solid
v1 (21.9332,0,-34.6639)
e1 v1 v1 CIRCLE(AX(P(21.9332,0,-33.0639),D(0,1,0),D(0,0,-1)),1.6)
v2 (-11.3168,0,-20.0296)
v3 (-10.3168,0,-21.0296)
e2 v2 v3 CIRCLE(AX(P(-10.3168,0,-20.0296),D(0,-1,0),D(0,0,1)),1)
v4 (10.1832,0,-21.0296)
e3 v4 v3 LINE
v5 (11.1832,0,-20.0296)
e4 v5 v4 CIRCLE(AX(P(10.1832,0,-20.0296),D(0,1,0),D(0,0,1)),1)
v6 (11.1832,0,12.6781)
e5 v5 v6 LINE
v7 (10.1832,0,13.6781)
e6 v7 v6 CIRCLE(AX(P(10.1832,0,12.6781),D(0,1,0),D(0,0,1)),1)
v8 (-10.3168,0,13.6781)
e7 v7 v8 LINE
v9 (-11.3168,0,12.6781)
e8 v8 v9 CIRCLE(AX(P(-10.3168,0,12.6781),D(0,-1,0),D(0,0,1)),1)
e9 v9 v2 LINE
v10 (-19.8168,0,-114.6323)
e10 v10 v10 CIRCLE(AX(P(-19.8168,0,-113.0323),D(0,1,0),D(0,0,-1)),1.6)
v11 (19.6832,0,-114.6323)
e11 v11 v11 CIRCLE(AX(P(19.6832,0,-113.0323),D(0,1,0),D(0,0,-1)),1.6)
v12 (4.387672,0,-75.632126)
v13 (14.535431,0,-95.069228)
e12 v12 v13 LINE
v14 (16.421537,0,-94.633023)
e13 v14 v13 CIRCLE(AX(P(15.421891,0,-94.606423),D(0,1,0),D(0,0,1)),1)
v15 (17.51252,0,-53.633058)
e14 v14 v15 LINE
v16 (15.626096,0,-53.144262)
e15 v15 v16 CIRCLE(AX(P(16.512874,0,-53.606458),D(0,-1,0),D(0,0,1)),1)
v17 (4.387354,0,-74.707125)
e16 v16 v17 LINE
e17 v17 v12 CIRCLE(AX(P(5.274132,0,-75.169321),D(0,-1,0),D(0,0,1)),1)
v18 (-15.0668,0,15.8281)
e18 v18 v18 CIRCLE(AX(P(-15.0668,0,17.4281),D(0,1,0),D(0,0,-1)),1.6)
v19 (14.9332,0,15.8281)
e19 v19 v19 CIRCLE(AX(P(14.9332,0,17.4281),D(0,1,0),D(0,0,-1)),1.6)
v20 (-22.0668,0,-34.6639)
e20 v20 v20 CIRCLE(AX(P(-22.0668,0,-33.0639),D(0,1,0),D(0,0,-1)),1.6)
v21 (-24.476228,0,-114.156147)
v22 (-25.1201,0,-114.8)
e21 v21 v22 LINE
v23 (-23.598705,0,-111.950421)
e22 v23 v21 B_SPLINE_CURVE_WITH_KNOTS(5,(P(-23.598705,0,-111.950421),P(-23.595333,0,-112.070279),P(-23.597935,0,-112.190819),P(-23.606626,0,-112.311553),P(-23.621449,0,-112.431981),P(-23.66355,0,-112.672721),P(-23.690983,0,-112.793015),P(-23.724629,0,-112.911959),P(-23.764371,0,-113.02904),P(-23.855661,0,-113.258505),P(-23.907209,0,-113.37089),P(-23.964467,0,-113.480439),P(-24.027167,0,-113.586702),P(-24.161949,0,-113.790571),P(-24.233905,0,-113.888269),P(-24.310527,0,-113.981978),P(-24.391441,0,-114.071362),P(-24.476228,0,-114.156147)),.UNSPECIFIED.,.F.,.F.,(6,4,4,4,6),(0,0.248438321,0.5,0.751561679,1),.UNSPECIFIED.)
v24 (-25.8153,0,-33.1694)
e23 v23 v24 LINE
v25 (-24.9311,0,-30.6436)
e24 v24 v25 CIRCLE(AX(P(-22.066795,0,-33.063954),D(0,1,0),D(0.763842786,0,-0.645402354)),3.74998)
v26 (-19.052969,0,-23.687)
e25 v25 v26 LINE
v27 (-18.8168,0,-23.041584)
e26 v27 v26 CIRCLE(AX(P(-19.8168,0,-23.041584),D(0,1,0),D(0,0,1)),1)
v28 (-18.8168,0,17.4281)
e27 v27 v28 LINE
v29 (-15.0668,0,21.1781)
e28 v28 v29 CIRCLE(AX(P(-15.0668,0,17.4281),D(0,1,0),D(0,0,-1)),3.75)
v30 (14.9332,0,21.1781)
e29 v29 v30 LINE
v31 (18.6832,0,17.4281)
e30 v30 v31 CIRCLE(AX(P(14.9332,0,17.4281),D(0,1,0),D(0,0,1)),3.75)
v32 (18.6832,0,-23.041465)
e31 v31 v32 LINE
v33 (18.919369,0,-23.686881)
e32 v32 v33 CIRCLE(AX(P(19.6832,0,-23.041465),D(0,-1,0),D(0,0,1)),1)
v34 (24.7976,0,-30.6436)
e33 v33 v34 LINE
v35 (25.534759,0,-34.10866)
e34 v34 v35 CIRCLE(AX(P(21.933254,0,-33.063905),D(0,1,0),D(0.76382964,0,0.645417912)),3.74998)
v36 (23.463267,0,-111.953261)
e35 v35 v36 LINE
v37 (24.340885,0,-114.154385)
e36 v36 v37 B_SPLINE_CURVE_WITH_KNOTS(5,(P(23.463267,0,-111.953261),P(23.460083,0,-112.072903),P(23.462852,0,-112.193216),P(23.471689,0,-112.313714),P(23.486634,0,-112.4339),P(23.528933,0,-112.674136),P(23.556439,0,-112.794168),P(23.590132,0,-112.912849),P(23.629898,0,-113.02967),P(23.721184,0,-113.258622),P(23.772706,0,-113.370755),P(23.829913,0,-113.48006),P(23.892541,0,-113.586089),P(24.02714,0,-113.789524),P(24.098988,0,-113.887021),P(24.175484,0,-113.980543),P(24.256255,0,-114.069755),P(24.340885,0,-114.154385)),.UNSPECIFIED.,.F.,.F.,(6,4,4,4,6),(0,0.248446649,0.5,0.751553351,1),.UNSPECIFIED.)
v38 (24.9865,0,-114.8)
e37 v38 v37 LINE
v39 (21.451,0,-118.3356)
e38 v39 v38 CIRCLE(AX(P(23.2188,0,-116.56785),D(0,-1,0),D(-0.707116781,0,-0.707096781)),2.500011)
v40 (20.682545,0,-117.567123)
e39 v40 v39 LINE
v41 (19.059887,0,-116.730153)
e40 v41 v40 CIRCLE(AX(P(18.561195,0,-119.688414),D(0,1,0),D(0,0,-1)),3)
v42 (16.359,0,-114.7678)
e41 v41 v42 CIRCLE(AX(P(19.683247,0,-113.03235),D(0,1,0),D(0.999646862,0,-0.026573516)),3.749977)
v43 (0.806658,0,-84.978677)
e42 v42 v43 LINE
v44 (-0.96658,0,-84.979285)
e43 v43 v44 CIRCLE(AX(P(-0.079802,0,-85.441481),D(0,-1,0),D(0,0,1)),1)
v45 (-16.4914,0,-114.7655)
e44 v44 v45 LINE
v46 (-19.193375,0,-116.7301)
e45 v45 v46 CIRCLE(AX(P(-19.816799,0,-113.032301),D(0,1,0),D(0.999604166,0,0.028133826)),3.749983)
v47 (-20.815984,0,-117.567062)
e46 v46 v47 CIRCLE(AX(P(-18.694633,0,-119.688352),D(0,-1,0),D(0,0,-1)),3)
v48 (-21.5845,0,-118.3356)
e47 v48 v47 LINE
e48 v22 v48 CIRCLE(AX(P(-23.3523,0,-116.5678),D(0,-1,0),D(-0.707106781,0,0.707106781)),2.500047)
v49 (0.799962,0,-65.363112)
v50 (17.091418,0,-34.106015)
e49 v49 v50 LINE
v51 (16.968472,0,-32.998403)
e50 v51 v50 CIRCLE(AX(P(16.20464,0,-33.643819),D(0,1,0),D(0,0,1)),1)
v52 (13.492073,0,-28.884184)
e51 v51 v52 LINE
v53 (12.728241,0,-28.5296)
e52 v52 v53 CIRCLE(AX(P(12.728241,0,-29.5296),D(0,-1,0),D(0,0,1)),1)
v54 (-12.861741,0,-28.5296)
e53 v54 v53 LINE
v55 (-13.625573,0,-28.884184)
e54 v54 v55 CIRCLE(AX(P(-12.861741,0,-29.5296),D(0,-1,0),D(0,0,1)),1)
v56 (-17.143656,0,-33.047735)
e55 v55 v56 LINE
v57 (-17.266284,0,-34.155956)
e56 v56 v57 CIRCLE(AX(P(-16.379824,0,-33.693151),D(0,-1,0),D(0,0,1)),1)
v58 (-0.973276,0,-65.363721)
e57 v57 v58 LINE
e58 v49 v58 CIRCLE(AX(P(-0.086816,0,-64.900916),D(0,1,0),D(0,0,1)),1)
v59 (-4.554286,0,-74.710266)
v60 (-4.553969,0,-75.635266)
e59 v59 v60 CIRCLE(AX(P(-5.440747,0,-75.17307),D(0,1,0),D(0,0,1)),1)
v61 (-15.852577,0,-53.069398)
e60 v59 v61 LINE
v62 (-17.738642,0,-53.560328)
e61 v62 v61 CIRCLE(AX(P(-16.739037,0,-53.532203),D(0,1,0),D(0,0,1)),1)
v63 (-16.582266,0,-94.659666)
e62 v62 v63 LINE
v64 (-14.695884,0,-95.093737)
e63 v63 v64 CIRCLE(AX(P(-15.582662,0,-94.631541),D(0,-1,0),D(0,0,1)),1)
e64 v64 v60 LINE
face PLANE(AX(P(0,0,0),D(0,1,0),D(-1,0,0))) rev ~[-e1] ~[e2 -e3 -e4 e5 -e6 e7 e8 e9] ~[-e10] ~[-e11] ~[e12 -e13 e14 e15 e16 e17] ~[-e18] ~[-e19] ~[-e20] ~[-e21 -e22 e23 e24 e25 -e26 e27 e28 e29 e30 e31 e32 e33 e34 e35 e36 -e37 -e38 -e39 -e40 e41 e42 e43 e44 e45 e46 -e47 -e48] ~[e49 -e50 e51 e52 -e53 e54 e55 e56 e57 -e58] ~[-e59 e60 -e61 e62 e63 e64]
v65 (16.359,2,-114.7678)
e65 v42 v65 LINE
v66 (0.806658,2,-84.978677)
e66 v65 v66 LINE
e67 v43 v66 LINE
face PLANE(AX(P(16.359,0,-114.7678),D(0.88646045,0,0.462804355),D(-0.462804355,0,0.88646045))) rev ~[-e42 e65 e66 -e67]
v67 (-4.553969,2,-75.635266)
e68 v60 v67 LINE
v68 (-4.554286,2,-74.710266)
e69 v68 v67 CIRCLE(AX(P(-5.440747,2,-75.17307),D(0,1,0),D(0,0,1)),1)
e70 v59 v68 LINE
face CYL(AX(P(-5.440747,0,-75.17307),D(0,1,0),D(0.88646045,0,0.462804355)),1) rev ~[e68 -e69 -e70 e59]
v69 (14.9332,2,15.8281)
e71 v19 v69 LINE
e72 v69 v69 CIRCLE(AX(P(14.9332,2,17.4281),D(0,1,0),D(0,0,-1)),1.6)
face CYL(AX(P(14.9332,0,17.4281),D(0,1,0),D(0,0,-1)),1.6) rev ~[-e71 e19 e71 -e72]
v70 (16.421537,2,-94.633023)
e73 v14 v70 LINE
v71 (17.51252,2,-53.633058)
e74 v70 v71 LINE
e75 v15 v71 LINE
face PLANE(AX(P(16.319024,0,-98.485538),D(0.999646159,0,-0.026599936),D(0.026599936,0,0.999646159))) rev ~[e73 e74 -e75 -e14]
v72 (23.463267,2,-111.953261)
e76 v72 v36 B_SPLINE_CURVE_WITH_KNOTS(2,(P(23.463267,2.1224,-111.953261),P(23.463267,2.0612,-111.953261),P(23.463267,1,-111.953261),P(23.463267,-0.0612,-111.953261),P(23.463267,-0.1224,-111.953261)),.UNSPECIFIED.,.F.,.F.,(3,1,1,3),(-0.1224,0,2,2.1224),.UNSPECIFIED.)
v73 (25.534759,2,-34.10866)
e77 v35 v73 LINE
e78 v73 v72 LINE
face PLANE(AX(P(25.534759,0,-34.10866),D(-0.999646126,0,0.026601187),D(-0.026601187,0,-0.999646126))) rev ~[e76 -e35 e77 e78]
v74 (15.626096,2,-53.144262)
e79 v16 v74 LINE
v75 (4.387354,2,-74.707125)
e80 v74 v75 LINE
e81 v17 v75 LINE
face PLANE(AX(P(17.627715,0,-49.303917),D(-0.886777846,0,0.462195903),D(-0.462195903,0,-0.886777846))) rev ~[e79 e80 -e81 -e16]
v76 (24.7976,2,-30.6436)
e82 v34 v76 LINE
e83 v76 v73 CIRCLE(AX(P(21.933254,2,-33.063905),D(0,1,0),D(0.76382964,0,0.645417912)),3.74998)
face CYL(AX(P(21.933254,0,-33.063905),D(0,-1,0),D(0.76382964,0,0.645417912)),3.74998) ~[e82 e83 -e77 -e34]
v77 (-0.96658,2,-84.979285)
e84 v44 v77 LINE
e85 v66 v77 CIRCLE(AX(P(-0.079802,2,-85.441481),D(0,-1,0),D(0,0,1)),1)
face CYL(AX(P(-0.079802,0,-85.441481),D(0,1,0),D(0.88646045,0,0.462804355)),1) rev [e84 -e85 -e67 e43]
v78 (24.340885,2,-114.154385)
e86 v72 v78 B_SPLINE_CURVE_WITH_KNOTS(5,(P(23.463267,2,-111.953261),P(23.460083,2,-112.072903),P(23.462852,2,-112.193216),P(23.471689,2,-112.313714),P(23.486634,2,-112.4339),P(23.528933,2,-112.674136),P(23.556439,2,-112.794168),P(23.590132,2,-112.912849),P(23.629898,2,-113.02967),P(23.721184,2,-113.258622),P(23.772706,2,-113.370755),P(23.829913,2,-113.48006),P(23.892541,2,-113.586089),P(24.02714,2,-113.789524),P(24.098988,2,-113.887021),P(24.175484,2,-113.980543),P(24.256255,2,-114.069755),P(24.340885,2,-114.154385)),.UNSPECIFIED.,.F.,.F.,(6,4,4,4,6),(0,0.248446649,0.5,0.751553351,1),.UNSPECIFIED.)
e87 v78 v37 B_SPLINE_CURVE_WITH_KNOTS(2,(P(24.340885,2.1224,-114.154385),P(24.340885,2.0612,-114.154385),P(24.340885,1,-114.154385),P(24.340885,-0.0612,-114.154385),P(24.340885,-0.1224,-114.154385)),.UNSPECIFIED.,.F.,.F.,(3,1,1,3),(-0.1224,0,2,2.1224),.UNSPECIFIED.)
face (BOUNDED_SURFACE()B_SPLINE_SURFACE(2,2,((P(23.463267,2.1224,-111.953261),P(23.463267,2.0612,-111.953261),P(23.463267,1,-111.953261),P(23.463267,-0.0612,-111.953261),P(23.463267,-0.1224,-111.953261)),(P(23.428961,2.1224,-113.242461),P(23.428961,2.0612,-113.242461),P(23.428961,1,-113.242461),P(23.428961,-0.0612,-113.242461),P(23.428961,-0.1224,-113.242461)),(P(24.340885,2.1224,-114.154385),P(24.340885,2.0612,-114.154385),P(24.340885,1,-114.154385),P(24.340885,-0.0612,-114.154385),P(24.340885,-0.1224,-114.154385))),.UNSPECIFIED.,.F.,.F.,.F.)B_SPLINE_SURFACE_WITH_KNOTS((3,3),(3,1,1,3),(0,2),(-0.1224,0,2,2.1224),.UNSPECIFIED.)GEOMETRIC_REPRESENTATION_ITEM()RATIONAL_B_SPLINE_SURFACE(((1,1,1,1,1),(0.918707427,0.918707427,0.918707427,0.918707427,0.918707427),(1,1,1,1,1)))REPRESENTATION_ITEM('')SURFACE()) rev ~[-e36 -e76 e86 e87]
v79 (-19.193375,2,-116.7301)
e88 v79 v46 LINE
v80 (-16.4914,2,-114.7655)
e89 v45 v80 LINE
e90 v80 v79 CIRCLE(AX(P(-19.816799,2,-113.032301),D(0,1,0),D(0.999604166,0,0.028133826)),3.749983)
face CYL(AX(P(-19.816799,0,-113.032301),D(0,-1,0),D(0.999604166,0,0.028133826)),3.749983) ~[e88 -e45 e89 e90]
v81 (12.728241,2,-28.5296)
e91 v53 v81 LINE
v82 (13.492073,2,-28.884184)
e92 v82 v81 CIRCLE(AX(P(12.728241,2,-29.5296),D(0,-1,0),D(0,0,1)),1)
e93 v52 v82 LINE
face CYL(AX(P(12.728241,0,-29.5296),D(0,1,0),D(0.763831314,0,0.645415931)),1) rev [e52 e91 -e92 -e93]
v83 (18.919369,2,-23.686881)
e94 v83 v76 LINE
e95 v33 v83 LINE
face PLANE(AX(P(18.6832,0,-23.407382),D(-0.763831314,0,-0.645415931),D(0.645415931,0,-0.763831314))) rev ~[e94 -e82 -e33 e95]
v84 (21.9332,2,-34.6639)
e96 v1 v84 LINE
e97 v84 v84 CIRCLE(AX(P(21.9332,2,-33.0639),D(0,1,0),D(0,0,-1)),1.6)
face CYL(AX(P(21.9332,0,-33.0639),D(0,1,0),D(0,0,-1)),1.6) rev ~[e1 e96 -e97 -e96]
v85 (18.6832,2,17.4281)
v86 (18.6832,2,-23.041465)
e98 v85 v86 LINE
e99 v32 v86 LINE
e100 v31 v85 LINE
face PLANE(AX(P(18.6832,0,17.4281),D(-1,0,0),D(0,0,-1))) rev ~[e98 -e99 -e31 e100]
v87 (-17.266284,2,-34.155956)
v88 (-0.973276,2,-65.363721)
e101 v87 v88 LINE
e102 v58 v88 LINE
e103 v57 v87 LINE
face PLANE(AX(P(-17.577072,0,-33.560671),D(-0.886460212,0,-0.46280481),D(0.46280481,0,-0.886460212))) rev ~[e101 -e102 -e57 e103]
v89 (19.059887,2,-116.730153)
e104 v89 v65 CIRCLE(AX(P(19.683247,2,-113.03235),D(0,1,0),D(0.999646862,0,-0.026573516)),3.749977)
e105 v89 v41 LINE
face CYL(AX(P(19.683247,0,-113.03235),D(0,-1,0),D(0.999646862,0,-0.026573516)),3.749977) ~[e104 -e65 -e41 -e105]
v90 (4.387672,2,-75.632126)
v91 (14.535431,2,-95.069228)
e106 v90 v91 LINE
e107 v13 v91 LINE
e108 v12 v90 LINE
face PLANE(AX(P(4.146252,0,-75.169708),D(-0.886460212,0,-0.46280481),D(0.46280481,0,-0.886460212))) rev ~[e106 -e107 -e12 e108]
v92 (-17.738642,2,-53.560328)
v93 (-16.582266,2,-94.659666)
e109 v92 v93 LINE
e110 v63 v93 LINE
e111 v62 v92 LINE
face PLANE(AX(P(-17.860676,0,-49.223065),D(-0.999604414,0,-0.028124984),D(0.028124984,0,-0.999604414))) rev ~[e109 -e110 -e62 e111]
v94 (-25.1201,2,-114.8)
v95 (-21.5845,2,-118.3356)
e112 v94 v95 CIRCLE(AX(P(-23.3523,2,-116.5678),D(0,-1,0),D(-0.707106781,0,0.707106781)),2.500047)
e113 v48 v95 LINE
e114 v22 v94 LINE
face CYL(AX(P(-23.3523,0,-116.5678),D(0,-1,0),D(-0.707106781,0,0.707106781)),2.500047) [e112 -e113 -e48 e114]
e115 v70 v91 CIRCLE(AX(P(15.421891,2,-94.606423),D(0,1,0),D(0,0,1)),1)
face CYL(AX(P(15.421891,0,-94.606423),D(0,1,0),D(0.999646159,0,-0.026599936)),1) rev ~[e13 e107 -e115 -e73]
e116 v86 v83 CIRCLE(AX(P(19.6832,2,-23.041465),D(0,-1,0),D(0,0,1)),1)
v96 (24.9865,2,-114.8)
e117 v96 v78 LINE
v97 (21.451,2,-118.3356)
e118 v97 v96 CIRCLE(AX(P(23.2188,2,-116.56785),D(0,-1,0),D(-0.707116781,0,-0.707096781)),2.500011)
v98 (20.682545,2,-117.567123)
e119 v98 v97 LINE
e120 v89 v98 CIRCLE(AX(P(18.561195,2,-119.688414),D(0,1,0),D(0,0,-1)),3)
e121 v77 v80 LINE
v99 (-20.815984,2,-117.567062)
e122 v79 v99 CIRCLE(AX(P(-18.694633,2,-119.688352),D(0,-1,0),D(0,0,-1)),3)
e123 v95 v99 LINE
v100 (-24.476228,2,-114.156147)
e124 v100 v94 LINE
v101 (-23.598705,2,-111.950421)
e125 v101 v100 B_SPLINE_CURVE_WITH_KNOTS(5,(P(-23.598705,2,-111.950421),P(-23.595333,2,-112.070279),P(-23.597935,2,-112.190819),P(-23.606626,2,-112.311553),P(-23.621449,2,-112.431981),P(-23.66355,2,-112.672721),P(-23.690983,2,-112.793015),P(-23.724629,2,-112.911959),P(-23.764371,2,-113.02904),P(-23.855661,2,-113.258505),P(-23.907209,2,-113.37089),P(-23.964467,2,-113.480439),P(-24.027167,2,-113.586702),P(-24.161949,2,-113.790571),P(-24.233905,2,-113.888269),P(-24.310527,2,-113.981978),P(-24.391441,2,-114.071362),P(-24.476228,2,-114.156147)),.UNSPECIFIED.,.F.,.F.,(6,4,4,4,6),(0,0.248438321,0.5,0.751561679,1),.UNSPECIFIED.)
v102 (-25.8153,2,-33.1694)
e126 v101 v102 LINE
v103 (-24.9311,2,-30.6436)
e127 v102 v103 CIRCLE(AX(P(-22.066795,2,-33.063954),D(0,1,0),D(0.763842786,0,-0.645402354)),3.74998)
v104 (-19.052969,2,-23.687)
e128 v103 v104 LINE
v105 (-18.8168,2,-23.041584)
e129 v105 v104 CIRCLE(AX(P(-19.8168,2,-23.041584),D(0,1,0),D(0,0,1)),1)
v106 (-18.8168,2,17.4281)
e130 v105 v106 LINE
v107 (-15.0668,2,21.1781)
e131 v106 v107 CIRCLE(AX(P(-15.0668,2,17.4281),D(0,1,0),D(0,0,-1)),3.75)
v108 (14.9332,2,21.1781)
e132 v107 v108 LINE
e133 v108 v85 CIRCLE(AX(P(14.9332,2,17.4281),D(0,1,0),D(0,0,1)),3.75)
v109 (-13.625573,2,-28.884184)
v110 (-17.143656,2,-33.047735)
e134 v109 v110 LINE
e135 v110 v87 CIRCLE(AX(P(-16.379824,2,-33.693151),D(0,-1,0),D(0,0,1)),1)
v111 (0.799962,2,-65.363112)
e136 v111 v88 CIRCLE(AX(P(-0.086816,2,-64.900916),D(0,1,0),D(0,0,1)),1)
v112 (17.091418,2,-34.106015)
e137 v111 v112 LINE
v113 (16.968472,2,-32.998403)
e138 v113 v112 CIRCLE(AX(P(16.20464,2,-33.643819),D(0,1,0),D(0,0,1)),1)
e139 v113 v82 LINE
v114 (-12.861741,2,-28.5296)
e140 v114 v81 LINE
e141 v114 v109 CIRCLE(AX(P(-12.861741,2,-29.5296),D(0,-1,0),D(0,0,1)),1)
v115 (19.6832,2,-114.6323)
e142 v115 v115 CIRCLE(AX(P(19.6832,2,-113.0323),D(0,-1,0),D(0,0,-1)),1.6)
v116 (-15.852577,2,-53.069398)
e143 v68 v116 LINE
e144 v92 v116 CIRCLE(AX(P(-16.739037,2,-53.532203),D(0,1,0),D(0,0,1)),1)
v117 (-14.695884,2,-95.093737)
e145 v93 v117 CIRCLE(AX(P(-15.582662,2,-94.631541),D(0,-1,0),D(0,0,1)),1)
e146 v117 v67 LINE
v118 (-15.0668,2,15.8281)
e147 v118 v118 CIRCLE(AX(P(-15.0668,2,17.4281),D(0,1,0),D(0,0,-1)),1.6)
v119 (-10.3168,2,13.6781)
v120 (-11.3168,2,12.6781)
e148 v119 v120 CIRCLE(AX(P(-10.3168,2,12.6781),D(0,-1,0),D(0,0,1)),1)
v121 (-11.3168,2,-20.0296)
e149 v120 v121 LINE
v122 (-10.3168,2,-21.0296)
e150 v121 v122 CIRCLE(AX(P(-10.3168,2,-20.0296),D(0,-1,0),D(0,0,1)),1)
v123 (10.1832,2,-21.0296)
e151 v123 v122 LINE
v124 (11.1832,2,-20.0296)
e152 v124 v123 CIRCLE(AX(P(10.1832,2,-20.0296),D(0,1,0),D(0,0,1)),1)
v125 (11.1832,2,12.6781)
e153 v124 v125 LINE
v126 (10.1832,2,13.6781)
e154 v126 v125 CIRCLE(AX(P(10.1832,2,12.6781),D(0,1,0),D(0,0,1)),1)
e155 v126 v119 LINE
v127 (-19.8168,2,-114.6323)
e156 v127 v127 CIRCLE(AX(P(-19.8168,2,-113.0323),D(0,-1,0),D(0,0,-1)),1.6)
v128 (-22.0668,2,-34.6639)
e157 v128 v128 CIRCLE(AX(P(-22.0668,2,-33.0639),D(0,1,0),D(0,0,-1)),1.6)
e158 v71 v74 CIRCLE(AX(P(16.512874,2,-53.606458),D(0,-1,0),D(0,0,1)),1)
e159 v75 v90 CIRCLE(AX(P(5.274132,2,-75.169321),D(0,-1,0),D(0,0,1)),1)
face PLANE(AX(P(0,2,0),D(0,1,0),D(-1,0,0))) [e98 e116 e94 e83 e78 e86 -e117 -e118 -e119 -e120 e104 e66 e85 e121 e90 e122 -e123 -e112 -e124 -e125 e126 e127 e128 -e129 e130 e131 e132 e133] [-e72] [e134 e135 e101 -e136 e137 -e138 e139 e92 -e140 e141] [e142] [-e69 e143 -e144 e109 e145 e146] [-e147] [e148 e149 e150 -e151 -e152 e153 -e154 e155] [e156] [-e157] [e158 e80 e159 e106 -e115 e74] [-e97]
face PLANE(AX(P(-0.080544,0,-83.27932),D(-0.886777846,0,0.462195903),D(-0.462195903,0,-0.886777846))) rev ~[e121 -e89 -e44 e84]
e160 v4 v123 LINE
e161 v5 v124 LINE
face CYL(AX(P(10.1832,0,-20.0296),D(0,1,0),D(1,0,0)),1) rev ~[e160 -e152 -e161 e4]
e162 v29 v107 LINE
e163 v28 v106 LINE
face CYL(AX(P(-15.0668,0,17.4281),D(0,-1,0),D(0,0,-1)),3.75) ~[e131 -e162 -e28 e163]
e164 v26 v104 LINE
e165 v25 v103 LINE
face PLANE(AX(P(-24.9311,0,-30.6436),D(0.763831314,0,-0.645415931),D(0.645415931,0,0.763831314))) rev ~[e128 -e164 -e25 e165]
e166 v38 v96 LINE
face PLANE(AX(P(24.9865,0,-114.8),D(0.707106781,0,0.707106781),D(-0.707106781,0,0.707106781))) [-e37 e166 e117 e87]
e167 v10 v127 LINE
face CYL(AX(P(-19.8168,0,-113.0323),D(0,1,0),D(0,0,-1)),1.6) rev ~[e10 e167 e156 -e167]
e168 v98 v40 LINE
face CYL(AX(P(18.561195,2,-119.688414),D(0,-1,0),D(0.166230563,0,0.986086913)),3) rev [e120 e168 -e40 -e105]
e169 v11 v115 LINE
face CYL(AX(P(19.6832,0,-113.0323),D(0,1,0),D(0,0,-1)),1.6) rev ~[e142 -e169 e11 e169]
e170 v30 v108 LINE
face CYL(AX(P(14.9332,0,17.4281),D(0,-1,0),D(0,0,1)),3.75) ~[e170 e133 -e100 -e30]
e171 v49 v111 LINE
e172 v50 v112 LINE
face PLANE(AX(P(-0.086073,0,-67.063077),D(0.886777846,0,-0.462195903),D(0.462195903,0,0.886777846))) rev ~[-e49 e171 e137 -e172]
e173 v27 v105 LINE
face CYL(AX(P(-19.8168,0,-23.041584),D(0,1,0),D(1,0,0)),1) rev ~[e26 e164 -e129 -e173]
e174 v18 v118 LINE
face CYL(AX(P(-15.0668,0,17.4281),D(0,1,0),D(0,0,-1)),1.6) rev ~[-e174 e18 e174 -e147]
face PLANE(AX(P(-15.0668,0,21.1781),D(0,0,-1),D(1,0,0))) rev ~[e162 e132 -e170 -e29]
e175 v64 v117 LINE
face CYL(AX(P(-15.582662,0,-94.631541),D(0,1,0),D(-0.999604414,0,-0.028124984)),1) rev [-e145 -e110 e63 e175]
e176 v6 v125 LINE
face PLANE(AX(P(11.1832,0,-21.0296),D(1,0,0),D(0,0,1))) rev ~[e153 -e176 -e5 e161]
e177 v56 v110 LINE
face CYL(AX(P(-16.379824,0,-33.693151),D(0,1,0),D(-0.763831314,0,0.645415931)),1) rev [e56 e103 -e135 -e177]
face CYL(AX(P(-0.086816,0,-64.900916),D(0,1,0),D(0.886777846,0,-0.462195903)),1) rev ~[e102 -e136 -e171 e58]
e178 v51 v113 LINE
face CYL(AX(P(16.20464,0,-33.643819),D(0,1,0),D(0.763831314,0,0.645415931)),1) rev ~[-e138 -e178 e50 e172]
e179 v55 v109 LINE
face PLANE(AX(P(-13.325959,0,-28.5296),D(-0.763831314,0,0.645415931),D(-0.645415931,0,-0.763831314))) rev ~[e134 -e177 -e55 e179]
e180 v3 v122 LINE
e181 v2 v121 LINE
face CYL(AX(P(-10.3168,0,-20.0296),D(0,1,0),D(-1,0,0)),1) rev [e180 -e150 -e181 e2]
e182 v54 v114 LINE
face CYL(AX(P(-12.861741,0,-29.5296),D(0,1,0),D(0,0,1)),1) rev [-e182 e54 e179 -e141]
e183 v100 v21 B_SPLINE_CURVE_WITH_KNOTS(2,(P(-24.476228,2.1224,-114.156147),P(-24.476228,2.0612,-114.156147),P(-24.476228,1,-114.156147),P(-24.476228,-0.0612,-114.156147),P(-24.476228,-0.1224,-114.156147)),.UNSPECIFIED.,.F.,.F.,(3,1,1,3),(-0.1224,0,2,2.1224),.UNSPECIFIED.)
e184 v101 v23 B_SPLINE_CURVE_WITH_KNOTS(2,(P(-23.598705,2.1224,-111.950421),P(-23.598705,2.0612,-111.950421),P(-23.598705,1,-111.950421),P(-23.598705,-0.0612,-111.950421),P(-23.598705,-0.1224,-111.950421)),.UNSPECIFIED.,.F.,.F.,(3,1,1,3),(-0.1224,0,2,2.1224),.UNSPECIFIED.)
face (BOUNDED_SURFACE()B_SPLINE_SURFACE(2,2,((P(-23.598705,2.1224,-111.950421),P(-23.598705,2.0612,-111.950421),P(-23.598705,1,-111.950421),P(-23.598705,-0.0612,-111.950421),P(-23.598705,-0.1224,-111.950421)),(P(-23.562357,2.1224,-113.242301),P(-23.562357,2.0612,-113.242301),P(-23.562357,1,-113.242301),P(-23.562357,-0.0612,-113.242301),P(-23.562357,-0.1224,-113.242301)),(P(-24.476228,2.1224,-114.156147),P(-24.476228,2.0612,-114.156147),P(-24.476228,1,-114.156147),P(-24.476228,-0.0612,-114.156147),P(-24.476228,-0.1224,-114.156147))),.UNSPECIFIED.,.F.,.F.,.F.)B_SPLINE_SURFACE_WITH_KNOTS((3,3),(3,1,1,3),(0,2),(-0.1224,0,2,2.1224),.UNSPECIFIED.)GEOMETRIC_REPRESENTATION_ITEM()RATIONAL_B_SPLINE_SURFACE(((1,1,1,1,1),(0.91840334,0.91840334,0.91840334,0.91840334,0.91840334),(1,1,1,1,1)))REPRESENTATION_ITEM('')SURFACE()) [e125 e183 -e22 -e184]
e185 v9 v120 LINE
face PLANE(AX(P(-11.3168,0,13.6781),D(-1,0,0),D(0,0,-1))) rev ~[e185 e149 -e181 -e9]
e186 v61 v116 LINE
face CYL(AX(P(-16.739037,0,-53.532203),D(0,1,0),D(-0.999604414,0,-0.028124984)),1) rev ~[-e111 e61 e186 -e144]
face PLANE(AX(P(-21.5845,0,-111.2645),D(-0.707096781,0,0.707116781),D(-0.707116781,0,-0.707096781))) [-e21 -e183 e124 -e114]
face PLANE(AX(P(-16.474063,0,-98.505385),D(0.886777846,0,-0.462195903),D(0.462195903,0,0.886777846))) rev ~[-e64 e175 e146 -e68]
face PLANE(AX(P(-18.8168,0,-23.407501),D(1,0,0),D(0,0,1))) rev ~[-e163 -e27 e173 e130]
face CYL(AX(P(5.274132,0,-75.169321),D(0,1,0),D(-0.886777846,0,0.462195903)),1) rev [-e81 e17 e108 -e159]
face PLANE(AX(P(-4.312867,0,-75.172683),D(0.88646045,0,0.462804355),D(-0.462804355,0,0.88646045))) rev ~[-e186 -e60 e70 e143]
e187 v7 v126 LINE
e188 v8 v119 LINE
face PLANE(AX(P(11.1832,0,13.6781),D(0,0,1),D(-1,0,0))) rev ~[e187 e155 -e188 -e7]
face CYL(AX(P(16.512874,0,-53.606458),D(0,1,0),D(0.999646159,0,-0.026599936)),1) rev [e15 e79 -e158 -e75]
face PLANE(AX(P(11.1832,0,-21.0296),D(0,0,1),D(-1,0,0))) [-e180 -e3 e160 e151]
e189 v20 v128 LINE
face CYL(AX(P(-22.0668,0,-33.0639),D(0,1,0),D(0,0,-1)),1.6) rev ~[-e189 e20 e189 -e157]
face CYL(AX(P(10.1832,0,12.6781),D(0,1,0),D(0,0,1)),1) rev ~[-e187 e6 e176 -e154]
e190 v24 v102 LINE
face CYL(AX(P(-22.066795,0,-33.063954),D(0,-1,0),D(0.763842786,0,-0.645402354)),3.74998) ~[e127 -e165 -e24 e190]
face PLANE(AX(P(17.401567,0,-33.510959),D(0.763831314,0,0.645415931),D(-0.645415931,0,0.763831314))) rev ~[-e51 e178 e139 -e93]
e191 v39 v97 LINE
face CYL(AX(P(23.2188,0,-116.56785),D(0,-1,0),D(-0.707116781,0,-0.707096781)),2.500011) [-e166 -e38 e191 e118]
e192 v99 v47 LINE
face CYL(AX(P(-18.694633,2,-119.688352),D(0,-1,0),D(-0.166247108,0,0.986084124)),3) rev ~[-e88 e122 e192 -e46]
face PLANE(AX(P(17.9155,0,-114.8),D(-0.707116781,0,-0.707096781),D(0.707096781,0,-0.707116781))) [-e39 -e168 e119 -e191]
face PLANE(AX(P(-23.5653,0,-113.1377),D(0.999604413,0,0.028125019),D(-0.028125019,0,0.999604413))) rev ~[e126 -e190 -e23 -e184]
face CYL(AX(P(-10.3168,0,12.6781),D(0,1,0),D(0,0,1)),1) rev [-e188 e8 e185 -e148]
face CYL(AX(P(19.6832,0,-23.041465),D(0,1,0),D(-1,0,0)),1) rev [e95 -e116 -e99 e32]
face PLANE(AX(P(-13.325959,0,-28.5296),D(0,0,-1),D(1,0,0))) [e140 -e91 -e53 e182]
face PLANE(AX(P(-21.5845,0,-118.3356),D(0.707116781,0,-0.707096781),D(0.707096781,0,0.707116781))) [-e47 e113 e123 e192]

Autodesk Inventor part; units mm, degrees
ref_plane "YZ Plane" through (0, 0, 0) normal (1, 0, 0) x (0, 1, 0)
ref_plane "XZ Plane" through (0, 0, 0) normal (0, 1, 0) x (-1, 0, 0)
ref_plane "XY Plane" through (0, 0, 0) normal (0, 0, 1) x (1, 0, 0)
sketch "Szkic1" plane through (0, 0, 0) normal (0, 1, 0) x (-1, 0, 0)
  line L0 (-14.9332, 17.4281) -> (15.0668, 17.4281) construction
  line L1 (-14.9332, 13.6781) -> (15.0668, 13.6781)
  line L2 (15.0668, 21.1781) -> (-14.9332, 21.1781)
  arc A0 (-14.9332, 21.1781) -> (-14.9332, 13.6781) centre (-14.9332, 17.4281) ccw
  arc A1 (15.0668, 13.6781) -> (15.0668, 21.1781) centre (15.0668, 17.4281) ccw
  line L3 (0.0668, 17.4281) -> (0.0668, -37.9617) construction
  line L4 (15.0668, 17.4281) -> (15.0668, -55.6314) construction
  line L5 (-14.9332, 17.4281) -> (-14.9332, -55.6314) construction
  line L6 (22.0668, -33.0639) -> (15.0668, -24.7796) construction
  line L7 (24.9311, -30.6436) -> (17.9311, -22.3593)
  line L8 (12.2024, -27.1999) -> (19.2024, -35.4842)
  arc A2 (19.2024, -35.4842) -> (24.9311, -30.6436) centre (22.0668, -33.0639) ccw
  arc A3 (17.9311, -22.3593) -> (12.2024, -27.1999) centre (15.0668, -24.7796) ccw
  line L9 (-21.9332, -33.0639) -> (-14.9332, -24.7796) construction
  line L10 (-19.0689, -35.4842) -> (-12.0689, -27.1999)
  line L11 (-17.7976, -22.3593) -> (-24.7976, -30.6436)
  arc A4 (-24.7976, -30.6436) -> (-19.0689, -35.4842) centre (-21.9332, -33.0639) ccw
  arc A5 (-12.0689, -27.1999) -> (-17.7976, -22.3593) centre (-14.9332, -24.7796) ccw
  line L12 (15.0668, 17.4281) -> (15.0668, -24.7796) construction
  line L13 (11.3168, 17.4281) -> (11.3168, -24.7796)
  line L14 (18.8168, -24.7796) -> (18.8168, 17.4281)
  arc A6 (18.8168, 17.4281) -> (11.3168, 17.4281) centre (15.0668, 17.4281) ccw
  arc A7 (11.3168, -24.7796) -> (18.8168, -24.7796) centre (15.0668, -24.7796) ccw
  line L15 (-14.9332, 17.4281) -> (-14.9332, -24.7796) construction
  line L16 (-18.6832, 17.4281) -> (-18.6832, -24.7796)
  line L17 (-11.1832, -24.7796) -> (-11.1832, 17.4281)
  arc A8 (-11.1832, 17.4281) -> (-18.6832, 17.4281) centre (-14.9332, 17.4281) ccw
  arc A9 (-18.6832, -24.7796) -> (-11.1832, -24.7796) centre (-14.9332, -24.7796) ccw
  line L18 (-14.9332, -24.7796) -> (15.0668, -24.7796) construction
  line L19 (-14.9332, -21.0296) -> (15.0668, -21.0296)
  line L20 (15.0668, -28.5296) -> (-14.9332, -28.5296)
  arc A10 (-14.9332, -21.0296) -> (-14.9332, -28.5296) centre (-14.9332, -24.7796) ccw
  arc A11 (15.0668, -28.5296) -> (15.0668, -21.0296) centre (15.0668, -24.7796) ccw
  line L21 (22.0668, -33.0639) -> (19.8168, -113.0323) construction
  line L22 (18.3183, -32.9584) -> (16.0683, -112.9268)
  line L23 (23.5653, -113.1377) -> (25.8153, -33.1694)
  arc A12 (25.8153, -33.1694) -> (18.3183, -32.9584) centre (22.0668, -33.0639) ccw
  arc A13 (16.0683, -112.9268) -> (23.5653, -113.1377) centre (19.8168, -113.0323) ccw
  line L24 (-21.8084, -33.1694) -> (-19.6832, -113.0323) construction
  line L25 (-25.5571, -33.2691) -> (-23.4319, -113.132)
  line L26 (-15.9346, -112.9325) -> (-18.0597, -33.0696)
  arc A14 (-18.0597, -33.0696) -> (-25.5571, -33.2691) centre (-21.8084, -33.1694) ccw
  arc A15 (-23.4319, -113.132) -> (-15.9346, -112.9325) centre (-19.6832, -113.0323) ccw
  line L27 (22.0668, -33.0639) -> (-19.6832, -113.0323) construction
  line L28 (18.7425, -31.3284) -> (-23.0075, -111.2967)
  line L29 (-16.359, -114.7678) -> (25.391, -34.7994)
  arc A16 (25.391, -34.7994) -> (18.7425, -31.3284) centre (22.0668, -33.0639) ccw
  arc A17 (-23.0075, -111.2967) -> (-16.359, -114.7678) centre (-19.6832, -113.0323) ccw
  line L30 (-21.8084, -33.1694) -> (19.8168, -113.0323) construction
  line L31 (-25.1338, -34.9026) -> (16.4914, -114.7655)
  line L32 (23.1422, -111.299) -> (-18.483, -31.4361)
  arc A18 (-18.483, -31.4361) -> (-25.1338, -34.9026) centre (-21.8084, -33.1694) ccw
  arc A19 (16.4914, -114.7655) -> (23.1422, -111.299) centre (19.8168, -113.0323) ccw
  point P0 (0, 0)
  point P1 (18.5668, -28.9217)
  point P2 (-18.4332, -28.9217)
  point P3 (15.0668, -3.6757)
  point P4 (-14.9332, -3.6757)
  point P5 (0.0668, -24.7796)
  point P6 (20.9418, -73.0481)
  point P7 (-20.7458, -73.1008)
  point P8 (1.1918, -73.0481)
  point P9 (-0.9958, -73.1008)
  point P10 (-18.6832, -23.4074)
  point P11 (-25.5347, -34.1087)
  point P12 (0.0805, -83.2794)
  point P13 (24.9311, -30.6436)
  point P14 (18.8168, -23.4074)
  point P15 (4.3129, -75.1727)
  point P16 (17.8606, -49.2232)
  point P17 (16.474, -98.5053)
  point P18 (-4.1462, -75.1698)
  point P19 (-16.319, -98.4856)
  point P20 (-17.6277, -49.3039)
  point P21 (0.0861, -67.0631)
  point P22 (-17.4016, -33.511)
  point P23 (-13.1924, -28.5296)
  point P24 (13.3259, -28.5296)
  point P25 (17.5771, -33.5607)
  point P26 (11.3168, 13.6781)
  point P27 (11.3168, -21.0296)
  point P28 (-11.1832, -21.0296)
  point P29 (-11.1832, 13.6781)
  dimension "d0" = 7.5
  dimension "d1" = 7.5
  dimension "d2" = 7.5
  dimension "d3" = 7.5
  dimension "d4" = 7.5
  dimension "d5" = 7.5
  dimension "d6" = 7.5
extrude "Wyciągnięcie proste1" add sketch "Szkic1" along normal blind 2 contours A0 A8 L17 L1 | L1 L17 L19 A5 L11 L16 A0 | L17 A8 L2 A6 L13 L1 | L13 A6 A1 L1 | L1 A1 L14 L7 A3 L19 L13 | L19 L13 A3 L8 L20 L10 A5 L17 | L17 A5 L19 | L16 A9 L20 L10 L32 A14 L25 A4 L11 | L11 A10 L16 | L19 A3 L13 | A5 A9 A10 | A3 A11 A7 | L10 L20 A9 | L25 A18 L31 A4 | A4 L31 L26 L28 A17 L25 | L14 A11 L7 | L7 A12 L28 L8 L20 A7 L14 | A7 L20 L8 | L31 A18 A14 L26 L10 A4 | A4 L10 L26 L31 | A17 L28 L26 A15 | A2 L8 L22 A12 | L32 L28 L31 L26 L10 | L10 L26 A14 L32 | A15 L26 L28 L31 L29 | L23 A19 L32 L22 L29 A2 | A12 L22 L8 L28 | L8 L22 L29 L32 L28 | L32 L29 L31 L28 | L29 L32 L22 A13 L31 | L29 L22 L8 A2 | A13 L22 L32 A19
fillet "Zaokrąglenie1" radius 1 18 edges at (-0.0805, 1, -83.2794) (-4.3129, 1, -75.1727) (4.1462, 1, -75.1698) (-0.0861, 1, -67.0631) (-17.8606, 1, -49.2232) (-16.474, 1, -98.5053) (16.319, 1, -98.4856) (17.6277, 1, -49.3039) (17.4016, 1, -33.511) (13.1924, 1, -28.5296) (-18.8168, 1, -23.4074) (-17.5771, 1, -33.5607) (-13.3259, 1, -28.5296) (-11.3168, 1, -21.0296) (11.1832, 1, -21.0296) (11.1832, 1, 13.6781) (-11.3168, 1, 13.6781) (18.6832, 1, -23.4074)
sketch "Szkic5" plane through (0, 0, 0) normal (0, -1, 0) x (1, 0, 0)
  arc A0 (18.6832, 17.4281) -> (14.9332, 21.1781) centre (14.9332, 17.4281) ccw projected
  arc A1 (-15.0668, 21.1781) -> (-18.8168, 17.4281) centre (-15.0668, 17.4281) ccw projected
  arc A2 (25.5347, -34.1087) -> (24.7976, -30.6436) centre (21.9332, -33.0639) ccw projected
  arc A3 (-24.9311, -30.6436) -> (-25.8153, -33.1694) centre (-22.0668, -33.0639) ccw projected
  arc A4 (16.359, -114.7678) -> (23.4319, -113.132) centre (19.6832, -113.0323) ccw projected
  arc A5 (-23.5653, -113.1377) -> (-16.4914, -114.7655) centre (-19.8168, -113.0323) ccw projected
  point P0 (0, 0)
hole "Otwór2" at (21.9332, 0, -33.0639) at (-22.0668, 0, -33.0639) at (14.9332, 0, 17.4281) at (-15.0668, 0, 17.4281) at (19.6832, 0, -113.0323) at (-19.8168, 0, -113.0323) direction (0, 1, 0) diameter 3.2 depth 6
sketch "Szkic6" plane through (0, 0, 0) normal (0, -1, 0) x (1, 0, 0)
  circle A0 centre (19.6832, -113.0323) radius 1.6 projected
  circle A1 centre (-19.8168, -113.0323) radius 1.6 projected
  line L0 (19.6832, -113.0323) -> (23.2188, -116.5678) construction
  line L1 (17.9155, -114.8) -> (21.451, -118.3356)
  line L2 (24.9865, -114.8) -> (21.451, -111.2645)
  arc A2 (21.451, -111.2645) -> (17.9155, -114.8) centre (19.6832, -113.0323) ccw
  arc A3 (21.451, -118.3356) -> (24.9865, -114.8) centre (23.2188, -116.5678) ccw
  line L3 (-19.8168, -113.0323) -> (-23.3523, -116.5678) construction
  line L4 (-21.5845, -111.2645) -> (-25.1201, -114.8)
  line L5 (-21.5845, -118.3356) -> (-18.049, -114.8)
  arc A4 (-18.049, -114.8) -> (-21.5845, -111.2645) centre (-19.8168, -113.0323) ccw
  arc A5 (-25.1201, -114.8) -> (-21.5845, -118.3356) centre (-23.3523, -116.5678) ccw
  line L6 (12.7282, -28.5296) -> (-12.8617, -28.5296) projected
  point P0 (0, 0)
  point P1 (21.451, -114.8)
  point P2 (-21.5845, -114.8)
  dimension "d29" = 5
  dimension "d30" = 5
  dimension "d31" = 5
  dimension "d32" = 5
  dimension "d33" = 45
extrude "Wyciągnięcie proste3" add sketch "Szkic6" against normal blind 2
fillet "Zaokrąglenie3" radius 3 4 edges at (19.8919, 1, -116.7764) (23.4274, 1, -113.2409) (-20.0254, 1, -116.7764) (-23.561, 1, -113.2409)
properties part number "mocowanie"
